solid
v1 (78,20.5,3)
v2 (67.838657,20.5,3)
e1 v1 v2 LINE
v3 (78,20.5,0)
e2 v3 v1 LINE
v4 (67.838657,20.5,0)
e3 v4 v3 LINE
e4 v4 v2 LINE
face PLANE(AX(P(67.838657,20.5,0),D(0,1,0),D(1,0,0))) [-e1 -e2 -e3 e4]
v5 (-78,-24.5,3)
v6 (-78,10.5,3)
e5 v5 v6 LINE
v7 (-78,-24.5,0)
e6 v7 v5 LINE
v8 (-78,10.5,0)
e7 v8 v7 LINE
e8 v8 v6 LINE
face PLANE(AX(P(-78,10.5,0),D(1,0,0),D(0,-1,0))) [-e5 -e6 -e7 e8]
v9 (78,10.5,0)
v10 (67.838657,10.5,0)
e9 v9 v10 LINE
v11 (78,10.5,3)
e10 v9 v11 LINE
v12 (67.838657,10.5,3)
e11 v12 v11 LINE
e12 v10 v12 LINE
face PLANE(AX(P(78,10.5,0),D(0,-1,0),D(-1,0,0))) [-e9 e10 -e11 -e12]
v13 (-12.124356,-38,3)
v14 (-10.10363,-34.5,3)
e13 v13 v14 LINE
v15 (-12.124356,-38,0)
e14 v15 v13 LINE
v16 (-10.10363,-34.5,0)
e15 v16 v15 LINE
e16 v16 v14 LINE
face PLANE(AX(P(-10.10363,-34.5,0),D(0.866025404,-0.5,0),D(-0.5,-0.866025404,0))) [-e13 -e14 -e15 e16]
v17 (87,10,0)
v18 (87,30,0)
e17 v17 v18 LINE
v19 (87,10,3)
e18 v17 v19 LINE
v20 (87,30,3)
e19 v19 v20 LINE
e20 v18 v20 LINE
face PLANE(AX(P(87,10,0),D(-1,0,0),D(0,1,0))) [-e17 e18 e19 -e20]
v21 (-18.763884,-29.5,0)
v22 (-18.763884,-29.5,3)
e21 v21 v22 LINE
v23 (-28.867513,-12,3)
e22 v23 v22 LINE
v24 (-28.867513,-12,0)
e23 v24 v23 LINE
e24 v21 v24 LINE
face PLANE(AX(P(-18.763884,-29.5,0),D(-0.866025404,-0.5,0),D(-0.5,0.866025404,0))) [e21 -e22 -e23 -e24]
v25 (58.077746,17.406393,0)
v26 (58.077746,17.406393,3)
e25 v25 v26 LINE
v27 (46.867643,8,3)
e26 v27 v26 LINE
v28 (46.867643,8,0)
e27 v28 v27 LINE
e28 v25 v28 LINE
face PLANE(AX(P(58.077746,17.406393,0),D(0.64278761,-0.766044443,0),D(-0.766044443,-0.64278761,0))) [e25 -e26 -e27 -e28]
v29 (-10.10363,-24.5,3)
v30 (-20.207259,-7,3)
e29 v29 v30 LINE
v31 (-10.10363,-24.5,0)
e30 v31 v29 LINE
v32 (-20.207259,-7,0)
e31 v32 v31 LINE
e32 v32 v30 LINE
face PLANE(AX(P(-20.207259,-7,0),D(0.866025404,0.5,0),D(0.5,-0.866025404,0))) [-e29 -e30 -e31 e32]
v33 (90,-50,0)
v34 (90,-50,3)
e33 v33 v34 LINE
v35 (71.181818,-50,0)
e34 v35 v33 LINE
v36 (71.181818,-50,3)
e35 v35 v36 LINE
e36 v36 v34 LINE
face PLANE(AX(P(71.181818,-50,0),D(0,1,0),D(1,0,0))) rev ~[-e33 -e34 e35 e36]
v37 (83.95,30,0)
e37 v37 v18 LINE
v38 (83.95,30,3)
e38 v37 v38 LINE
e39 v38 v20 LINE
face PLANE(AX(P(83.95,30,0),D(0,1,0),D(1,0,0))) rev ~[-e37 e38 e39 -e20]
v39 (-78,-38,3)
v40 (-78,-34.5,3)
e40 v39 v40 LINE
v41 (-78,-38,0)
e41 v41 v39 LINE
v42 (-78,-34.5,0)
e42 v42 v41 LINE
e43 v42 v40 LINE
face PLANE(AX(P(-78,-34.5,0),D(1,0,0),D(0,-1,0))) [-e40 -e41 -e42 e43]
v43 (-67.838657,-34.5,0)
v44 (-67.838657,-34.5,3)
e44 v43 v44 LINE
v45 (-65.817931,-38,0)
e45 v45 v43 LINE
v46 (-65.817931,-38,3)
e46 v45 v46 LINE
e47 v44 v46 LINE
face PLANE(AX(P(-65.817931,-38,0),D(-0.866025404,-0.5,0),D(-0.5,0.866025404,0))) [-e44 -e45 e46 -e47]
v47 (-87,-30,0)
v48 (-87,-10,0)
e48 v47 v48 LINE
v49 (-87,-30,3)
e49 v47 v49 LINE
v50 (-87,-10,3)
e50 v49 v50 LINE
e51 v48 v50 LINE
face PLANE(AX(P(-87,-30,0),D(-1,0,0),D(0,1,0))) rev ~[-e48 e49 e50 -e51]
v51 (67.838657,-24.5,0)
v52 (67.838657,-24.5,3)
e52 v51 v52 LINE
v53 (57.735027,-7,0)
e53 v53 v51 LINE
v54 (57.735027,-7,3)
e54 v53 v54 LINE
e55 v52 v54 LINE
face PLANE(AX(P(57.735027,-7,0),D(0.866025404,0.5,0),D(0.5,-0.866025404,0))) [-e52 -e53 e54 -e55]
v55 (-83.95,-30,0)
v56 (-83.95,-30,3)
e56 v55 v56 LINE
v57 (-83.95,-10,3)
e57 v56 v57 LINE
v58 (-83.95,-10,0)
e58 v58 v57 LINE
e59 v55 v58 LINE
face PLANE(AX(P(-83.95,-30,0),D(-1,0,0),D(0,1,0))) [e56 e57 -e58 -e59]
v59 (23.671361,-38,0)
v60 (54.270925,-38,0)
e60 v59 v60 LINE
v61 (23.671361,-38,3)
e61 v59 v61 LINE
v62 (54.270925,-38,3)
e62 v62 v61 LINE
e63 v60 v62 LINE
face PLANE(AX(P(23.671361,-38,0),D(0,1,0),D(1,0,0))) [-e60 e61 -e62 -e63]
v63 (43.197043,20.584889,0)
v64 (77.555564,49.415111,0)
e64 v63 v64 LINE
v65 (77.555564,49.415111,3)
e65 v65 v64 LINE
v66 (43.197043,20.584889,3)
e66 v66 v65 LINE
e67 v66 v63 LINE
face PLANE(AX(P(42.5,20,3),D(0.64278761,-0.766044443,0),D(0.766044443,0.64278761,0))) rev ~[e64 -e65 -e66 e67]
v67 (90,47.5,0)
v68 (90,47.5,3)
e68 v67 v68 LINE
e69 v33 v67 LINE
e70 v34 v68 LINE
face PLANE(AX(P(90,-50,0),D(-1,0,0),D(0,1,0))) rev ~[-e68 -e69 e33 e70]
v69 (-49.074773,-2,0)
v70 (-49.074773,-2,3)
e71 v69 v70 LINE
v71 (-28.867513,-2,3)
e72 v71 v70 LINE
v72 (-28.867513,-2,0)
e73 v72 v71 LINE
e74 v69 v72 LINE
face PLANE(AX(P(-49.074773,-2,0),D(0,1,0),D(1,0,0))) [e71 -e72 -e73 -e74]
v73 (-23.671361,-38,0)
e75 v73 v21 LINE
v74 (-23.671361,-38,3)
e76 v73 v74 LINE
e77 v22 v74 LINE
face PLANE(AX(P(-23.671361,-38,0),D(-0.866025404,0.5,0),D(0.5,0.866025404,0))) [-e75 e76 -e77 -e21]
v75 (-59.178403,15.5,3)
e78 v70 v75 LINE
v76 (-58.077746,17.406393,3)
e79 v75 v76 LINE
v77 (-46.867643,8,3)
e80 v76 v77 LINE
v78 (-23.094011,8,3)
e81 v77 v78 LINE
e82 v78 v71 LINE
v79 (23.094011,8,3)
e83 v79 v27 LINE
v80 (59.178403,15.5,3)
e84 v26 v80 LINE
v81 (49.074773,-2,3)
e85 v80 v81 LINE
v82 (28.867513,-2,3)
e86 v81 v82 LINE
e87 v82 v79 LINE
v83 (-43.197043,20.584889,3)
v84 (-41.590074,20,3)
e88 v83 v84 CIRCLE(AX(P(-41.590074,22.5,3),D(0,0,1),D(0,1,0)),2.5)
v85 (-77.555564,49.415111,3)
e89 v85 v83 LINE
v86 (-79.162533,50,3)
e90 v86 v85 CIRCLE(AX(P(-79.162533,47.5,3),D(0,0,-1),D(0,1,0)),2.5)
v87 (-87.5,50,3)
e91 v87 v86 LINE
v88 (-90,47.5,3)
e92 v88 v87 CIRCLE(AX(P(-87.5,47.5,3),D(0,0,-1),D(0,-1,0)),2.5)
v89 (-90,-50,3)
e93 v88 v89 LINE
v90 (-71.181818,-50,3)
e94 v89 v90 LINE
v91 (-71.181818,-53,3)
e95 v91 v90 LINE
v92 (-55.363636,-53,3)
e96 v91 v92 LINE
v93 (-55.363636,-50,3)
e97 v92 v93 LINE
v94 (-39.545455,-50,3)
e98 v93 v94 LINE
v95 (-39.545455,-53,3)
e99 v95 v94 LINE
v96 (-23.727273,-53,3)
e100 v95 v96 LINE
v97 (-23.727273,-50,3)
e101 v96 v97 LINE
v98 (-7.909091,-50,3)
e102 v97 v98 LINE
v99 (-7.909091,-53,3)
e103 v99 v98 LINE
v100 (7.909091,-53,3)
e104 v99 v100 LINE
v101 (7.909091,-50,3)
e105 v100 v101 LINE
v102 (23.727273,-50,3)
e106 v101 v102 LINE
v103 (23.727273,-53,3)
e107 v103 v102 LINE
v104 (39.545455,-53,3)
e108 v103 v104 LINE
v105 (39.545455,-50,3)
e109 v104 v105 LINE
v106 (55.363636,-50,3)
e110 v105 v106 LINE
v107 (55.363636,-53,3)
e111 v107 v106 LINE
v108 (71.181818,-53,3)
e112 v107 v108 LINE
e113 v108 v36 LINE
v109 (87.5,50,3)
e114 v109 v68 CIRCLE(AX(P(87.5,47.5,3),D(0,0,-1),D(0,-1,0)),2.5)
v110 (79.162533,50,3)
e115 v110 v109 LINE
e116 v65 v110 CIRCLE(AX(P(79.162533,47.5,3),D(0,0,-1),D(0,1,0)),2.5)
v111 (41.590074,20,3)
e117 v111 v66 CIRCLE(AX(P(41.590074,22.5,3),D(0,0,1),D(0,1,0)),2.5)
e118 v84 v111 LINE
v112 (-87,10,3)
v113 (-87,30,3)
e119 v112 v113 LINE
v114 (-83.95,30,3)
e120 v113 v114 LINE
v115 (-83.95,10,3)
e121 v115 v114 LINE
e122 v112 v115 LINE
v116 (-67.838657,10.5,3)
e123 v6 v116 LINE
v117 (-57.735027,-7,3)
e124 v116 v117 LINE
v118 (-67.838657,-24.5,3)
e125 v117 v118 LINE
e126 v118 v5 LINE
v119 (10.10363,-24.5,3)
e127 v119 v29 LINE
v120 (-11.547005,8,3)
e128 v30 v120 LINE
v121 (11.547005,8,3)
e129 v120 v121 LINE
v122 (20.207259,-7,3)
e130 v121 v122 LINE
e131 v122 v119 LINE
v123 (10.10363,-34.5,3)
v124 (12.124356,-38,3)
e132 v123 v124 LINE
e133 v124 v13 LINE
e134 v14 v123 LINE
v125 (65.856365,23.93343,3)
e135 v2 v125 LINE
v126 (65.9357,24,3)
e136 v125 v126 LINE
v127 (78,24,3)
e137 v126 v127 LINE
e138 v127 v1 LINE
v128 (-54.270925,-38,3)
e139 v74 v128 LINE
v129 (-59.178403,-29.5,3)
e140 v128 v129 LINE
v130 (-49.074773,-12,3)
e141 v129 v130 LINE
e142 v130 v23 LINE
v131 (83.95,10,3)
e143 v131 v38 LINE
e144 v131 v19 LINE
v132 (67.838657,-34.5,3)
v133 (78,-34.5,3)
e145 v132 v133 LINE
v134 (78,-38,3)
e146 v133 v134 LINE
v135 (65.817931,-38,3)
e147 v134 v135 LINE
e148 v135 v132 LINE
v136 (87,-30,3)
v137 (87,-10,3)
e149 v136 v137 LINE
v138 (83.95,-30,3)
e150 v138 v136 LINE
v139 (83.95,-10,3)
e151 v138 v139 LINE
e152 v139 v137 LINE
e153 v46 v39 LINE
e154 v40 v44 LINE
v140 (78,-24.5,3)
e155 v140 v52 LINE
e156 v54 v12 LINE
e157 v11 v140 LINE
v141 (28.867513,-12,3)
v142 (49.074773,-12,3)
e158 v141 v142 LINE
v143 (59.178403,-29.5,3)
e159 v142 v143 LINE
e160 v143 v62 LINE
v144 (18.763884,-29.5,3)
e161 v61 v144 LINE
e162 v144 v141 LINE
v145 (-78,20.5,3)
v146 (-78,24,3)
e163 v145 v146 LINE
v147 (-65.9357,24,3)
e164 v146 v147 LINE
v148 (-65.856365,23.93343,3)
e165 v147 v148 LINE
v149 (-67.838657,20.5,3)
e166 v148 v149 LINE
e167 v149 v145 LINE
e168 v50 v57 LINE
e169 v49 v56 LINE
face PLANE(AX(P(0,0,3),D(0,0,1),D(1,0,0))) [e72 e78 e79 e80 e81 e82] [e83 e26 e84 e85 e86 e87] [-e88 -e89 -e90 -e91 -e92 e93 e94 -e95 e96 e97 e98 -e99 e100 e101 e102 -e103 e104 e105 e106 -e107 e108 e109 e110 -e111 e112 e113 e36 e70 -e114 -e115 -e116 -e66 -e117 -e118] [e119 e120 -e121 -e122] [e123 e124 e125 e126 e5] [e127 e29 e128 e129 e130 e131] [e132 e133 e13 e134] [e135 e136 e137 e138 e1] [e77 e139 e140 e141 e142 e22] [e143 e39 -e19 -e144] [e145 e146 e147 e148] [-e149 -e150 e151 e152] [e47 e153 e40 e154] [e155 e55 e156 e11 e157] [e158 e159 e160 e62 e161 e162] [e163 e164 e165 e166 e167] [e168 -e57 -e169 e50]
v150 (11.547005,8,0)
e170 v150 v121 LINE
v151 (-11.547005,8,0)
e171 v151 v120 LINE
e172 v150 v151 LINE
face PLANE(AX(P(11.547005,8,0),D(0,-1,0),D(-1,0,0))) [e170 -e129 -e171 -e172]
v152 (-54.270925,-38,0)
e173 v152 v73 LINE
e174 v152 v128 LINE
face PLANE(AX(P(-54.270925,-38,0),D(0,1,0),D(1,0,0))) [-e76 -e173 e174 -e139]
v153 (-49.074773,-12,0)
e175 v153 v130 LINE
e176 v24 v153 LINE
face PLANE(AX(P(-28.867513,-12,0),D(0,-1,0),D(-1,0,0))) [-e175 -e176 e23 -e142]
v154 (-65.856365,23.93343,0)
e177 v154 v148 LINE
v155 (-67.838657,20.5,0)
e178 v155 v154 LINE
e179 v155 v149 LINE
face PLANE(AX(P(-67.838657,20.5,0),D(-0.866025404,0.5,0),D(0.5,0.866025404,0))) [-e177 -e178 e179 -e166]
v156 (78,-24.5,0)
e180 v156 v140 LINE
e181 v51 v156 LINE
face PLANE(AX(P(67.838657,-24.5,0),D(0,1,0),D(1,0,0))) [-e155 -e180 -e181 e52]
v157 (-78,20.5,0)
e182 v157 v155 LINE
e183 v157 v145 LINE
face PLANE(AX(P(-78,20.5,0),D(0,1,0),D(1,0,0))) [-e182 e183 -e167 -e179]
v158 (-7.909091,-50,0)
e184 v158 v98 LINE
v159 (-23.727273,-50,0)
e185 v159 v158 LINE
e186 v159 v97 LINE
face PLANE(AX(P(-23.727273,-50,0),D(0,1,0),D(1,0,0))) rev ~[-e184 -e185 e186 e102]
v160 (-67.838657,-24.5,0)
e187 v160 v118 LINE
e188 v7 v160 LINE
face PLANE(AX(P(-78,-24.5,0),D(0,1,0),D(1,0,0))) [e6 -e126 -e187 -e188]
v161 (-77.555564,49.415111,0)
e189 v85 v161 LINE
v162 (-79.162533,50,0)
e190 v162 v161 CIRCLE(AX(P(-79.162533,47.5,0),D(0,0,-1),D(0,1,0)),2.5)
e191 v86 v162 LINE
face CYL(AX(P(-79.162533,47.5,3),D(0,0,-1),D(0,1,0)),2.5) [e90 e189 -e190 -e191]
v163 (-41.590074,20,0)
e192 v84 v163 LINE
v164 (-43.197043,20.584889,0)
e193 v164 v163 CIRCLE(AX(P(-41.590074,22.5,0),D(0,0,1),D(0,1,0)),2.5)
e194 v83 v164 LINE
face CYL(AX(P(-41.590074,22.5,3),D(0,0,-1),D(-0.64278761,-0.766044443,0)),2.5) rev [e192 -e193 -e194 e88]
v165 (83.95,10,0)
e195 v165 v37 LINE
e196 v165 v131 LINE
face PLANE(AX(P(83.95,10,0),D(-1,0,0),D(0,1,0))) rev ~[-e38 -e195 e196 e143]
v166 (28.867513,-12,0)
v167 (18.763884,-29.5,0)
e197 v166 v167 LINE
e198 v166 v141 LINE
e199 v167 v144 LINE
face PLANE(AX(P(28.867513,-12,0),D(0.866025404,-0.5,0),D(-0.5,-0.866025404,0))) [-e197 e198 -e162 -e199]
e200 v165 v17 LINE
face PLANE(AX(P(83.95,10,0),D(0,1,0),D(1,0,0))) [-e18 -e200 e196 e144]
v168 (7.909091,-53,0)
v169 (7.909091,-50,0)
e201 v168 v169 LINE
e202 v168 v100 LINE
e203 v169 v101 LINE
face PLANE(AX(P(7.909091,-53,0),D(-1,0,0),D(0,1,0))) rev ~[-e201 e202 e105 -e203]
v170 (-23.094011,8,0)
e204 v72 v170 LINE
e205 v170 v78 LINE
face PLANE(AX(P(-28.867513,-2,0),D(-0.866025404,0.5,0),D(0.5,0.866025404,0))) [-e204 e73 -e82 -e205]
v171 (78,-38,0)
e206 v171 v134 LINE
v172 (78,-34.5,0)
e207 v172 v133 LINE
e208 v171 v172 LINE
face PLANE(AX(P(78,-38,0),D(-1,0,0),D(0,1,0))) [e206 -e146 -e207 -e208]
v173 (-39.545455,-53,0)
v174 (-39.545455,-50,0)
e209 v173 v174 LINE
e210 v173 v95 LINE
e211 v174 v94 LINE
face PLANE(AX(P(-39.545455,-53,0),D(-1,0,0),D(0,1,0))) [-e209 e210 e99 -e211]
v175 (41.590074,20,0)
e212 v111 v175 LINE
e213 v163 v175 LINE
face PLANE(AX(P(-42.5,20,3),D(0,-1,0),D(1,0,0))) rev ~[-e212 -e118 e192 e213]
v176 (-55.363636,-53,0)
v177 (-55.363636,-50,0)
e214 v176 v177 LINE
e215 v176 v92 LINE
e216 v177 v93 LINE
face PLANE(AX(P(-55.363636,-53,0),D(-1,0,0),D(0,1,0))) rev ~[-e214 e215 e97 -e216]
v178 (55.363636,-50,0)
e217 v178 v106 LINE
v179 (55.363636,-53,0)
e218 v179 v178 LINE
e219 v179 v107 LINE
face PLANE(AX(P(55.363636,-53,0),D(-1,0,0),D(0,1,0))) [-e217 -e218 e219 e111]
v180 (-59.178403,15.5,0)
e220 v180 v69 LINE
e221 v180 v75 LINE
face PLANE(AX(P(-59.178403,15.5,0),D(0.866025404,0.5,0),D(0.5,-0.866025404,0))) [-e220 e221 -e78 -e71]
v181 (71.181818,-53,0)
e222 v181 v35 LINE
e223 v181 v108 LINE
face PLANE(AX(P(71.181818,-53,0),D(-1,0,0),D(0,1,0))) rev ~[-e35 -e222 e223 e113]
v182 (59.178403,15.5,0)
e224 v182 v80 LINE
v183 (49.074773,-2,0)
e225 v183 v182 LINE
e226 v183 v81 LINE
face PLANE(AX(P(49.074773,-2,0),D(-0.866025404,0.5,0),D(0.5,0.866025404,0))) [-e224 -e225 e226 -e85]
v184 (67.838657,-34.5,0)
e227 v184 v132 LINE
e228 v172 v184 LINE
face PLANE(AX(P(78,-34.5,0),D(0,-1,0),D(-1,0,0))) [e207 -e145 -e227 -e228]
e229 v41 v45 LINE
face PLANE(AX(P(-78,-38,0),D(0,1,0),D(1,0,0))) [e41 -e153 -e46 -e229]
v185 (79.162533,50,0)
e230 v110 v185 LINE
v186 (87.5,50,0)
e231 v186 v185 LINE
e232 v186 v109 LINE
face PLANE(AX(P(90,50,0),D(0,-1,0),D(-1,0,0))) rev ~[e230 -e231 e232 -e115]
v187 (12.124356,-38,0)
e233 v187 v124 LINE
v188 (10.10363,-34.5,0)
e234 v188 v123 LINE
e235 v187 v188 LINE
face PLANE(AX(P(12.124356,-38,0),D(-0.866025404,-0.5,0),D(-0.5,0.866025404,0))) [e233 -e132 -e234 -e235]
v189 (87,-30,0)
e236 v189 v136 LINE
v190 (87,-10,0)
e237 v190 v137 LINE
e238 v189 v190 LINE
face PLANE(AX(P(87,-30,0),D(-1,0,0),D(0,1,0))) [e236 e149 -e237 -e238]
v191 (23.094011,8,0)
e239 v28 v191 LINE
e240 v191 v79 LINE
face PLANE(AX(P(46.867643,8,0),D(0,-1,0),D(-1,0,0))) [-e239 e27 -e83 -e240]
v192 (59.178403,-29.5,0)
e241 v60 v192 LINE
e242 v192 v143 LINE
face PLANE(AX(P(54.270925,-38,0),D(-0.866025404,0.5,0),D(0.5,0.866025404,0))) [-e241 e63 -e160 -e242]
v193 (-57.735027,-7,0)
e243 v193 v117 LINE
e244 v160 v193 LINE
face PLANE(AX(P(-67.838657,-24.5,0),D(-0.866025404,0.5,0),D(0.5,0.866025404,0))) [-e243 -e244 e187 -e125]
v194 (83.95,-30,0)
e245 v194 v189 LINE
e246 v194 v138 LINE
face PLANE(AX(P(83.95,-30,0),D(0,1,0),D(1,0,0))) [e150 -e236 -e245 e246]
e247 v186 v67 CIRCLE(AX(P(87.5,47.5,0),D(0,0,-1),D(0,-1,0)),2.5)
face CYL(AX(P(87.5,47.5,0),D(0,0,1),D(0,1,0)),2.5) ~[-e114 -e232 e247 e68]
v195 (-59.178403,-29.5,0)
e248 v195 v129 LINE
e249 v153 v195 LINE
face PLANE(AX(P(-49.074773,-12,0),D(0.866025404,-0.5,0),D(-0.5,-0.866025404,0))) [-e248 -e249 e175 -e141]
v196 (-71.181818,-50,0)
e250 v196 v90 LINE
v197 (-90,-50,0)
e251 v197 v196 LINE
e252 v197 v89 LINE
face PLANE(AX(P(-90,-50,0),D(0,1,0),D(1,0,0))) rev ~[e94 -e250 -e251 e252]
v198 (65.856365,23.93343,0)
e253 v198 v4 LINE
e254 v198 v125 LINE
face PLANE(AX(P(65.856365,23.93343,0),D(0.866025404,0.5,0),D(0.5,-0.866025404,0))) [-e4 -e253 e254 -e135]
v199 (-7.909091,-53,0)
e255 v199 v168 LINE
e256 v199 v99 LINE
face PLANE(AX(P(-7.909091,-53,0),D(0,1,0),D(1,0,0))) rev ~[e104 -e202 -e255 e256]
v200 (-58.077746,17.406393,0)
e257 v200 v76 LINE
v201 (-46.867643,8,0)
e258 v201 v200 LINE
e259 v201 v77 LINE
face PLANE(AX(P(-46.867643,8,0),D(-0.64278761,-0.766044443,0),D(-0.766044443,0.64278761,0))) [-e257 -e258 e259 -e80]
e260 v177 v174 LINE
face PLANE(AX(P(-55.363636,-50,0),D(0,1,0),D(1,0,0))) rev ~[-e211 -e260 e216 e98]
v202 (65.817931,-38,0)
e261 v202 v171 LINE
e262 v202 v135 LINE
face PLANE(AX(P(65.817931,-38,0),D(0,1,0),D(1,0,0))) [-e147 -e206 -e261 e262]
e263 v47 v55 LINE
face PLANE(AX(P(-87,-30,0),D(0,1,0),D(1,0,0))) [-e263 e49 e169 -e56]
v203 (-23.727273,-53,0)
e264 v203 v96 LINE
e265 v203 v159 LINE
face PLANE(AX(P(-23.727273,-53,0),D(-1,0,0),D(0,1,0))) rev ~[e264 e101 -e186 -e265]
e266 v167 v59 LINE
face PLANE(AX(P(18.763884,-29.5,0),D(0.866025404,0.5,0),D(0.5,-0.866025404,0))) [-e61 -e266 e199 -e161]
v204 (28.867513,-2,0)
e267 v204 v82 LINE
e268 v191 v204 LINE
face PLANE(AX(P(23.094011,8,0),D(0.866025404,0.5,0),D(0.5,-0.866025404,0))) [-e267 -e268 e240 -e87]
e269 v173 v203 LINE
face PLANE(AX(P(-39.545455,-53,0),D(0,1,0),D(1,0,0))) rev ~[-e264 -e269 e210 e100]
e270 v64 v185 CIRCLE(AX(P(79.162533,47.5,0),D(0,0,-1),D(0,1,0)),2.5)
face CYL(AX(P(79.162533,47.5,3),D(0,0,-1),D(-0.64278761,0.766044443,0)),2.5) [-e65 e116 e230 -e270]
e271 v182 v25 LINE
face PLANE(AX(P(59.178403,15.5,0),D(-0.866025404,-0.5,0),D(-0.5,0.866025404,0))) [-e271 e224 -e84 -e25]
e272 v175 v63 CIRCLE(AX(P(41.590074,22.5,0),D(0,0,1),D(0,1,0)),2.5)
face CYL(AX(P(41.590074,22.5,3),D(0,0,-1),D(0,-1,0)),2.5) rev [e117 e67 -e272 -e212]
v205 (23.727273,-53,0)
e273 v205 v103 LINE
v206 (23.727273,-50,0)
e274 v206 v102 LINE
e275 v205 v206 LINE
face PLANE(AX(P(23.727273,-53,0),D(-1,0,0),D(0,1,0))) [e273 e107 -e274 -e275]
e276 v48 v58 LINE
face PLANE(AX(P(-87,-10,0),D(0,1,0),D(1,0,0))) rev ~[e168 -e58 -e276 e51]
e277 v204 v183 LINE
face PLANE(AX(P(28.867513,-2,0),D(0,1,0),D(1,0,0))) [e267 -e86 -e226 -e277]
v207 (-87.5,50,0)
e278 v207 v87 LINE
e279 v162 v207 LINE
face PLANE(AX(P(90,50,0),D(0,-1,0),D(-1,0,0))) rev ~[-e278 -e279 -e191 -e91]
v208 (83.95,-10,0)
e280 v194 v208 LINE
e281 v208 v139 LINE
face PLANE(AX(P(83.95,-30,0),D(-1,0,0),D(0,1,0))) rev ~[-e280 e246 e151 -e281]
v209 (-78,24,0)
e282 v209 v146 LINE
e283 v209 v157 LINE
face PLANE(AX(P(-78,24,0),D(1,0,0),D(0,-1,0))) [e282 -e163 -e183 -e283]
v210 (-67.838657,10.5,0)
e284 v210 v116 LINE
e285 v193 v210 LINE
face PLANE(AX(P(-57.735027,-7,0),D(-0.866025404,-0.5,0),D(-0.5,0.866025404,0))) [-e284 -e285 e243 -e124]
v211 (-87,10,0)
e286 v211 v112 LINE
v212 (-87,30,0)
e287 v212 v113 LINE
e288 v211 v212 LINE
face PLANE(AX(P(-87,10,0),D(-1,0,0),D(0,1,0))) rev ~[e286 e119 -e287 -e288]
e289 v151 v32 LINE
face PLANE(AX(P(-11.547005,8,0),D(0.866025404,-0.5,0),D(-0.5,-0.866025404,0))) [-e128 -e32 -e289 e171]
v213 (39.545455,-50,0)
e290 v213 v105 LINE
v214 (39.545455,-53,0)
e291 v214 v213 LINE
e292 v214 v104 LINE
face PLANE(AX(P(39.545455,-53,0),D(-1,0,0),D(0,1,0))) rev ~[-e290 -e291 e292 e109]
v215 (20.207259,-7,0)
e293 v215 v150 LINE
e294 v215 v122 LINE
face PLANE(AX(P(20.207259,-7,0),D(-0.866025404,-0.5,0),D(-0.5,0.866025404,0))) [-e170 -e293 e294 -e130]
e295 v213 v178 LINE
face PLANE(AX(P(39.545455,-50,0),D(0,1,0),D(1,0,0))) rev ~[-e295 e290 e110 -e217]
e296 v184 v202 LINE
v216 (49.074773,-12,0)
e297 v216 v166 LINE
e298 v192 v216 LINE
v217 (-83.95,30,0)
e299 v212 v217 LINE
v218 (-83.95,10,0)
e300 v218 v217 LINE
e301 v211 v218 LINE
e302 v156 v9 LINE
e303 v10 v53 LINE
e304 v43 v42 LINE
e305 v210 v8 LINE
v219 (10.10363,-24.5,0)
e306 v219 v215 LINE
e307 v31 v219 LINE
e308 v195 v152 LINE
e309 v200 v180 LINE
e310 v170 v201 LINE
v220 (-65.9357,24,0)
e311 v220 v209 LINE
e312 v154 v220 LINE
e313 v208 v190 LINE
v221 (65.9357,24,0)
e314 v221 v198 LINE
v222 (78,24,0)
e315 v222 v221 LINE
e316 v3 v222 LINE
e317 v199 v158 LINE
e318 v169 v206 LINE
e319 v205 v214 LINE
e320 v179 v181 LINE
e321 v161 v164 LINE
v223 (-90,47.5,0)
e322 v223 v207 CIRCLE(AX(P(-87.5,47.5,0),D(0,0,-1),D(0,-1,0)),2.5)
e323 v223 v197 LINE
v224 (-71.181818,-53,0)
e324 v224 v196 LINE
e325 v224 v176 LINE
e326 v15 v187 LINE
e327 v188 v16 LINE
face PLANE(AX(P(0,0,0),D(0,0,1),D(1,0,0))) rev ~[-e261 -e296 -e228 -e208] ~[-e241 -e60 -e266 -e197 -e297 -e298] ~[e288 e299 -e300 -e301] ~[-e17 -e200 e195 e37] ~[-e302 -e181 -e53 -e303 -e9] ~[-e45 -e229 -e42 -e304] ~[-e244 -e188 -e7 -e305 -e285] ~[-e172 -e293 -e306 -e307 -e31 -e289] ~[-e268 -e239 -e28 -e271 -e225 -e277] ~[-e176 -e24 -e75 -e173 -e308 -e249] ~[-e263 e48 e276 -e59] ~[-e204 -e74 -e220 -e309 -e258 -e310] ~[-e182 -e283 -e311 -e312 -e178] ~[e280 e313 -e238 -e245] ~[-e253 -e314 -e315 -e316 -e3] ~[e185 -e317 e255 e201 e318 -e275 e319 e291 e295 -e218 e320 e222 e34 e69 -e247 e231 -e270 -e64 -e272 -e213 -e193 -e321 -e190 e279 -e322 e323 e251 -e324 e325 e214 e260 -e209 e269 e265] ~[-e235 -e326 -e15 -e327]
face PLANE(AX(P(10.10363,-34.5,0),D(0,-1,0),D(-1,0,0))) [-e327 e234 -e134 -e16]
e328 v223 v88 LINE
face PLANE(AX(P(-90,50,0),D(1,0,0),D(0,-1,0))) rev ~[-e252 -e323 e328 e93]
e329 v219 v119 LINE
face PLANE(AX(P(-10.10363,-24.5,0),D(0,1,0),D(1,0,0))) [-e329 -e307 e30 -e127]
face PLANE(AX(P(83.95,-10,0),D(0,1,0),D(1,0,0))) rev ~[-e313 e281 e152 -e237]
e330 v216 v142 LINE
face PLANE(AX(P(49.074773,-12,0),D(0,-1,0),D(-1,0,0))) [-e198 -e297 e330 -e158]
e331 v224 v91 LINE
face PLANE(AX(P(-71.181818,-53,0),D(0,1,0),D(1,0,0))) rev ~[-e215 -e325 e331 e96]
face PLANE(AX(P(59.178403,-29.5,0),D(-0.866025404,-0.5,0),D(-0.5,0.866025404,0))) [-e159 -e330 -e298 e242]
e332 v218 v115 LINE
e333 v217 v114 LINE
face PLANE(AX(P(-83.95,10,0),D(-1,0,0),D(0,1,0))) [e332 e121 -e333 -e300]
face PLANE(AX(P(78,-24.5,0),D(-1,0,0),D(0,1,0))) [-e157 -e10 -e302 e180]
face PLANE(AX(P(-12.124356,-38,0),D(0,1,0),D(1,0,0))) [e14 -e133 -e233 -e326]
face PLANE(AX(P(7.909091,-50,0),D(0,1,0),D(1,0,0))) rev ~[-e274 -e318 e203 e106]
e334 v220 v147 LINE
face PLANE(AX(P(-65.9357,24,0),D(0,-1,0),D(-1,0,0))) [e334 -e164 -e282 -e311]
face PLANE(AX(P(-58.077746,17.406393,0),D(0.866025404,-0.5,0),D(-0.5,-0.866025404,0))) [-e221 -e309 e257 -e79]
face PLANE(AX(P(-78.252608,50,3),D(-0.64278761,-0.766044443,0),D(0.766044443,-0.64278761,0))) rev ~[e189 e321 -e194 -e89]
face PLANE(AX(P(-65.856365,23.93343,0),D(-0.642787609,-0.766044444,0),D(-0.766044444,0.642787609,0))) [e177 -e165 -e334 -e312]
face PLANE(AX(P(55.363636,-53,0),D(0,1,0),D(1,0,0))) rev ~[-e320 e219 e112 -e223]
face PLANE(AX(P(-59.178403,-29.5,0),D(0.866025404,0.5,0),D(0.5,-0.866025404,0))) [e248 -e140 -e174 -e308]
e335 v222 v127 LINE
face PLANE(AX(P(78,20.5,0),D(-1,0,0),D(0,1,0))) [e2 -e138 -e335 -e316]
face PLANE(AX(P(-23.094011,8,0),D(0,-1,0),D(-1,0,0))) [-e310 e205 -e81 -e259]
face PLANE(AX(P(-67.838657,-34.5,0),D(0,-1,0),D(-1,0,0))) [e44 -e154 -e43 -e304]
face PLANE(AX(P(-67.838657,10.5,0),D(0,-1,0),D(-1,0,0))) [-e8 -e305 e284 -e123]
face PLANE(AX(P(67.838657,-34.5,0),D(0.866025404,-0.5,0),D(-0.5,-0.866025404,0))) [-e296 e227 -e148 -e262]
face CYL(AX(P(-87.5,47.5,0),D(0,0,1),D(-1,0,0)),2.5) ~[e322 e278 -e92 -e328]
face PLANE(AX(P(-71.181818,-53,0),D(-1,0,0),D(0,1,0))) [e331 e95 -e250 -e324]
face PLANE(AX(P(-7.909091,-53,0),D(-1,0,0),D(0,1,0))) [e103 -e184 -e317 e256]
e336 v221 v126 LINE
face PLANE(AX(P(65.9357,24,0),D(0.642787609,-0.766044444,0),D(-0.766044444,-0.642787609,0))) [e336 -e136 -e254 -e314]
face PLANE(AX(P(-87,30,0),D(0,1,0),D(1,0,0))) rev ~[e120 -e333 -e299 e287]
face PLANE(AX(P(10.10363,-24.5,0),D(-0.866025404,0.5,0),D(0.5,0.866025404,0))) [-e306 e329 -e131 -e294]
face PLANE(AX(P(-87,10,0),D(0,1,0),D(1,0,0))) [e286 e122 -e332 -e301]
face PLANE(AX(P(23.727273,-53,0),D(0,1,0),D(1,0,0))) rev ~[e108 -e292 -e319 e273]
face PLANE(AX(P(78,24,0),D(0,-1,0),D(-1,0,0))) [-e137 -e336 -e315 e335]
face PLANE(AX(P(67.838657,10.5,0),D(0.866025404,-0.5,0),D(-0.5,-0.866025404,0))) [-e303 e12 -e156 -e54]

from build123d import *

# Parameters (mm, degrees)
SKETCH1_W               = 3.05
SKETCH1_H               = 20
SKETCH1_W_2             = 15.818181818
SKETCH1_H_2             = 3
BOSS_EXTRUDE1_DEPTH     = 3
CUT_EXTRUDE9_DEPTH      = 1
CUT_EXTRUDE9_DEPTH_BACK = 4
FILLET3_R               = 2.5
CUT_EXTRUDE8_DEPTH      = 4
CUT_EXTRUDE8_DEPTH_BACK = 1


with BuildPart() as part:
    # Sketch1 → Boss-Extrude1 (new body)
    with BuildSketch(Plane.XY):
        Polygon((-90, 50), (-90, -50), (-71.181818182, -50), (-55.363636364, -50), (-39.545454545, -50), (-23.727272727, -50), (-7.909090909, -50), (7.909090909, -50), (23.727272727, -50), (39.545454545, -50), (55.363636364, -50), (71.181818182, -50), (90, -50), (90, 50), align=None)
        with Locations((-85.475, -20)):
            Rectangle(SKETCH1_W, SKETCH1_H, mode=Mode.SUBTRACT)
        with Locations((85.475, -20)):
            Rectangle(SKETCH1_W, SKETCH1_H, mode=Mode.SUBTRACT)
        with Locations((-85.475, 20)):
            Rectangle(SKETCH1_W, SKETCH1_H, mode=Mode.SUBTRACT)
        with Locations((85.475, 20)):
            Rectangle(SKETCH1_W, SKETCH1_H, mode=Mode.SUBTRACT)
        with Locations((-63.272727273, -51.5)):
            Rectangle(SKETCH1_W_2, SKETCH1_H_2)
        with Locations((-31.636363636, -51.5)):
            Rectangle(SKETCH1_W_2, SKETCH1_H_2)
        with Locations((0, -51.5)):
            Rectangle(SKETCH1_W_2, SKETCH1_H_2)
        with Locations((31.636363636, -51.5)):
            Rectangle(SKETCH1_W_2, SKETCH1_H_2)
        with Locations((63.272727273, -51.5)):
            Rectangle(SKETCH1_W_2, SKETCH1_H_2)
    extrude(amount=BOSS_EXTRUDE1_DEPTH)

    # Sketch7 → Cut-Extrude9 (cut, two sides)
    with BuildSketch(Plane.XY.offset(3)) as cut_extrude9_sk:
        Polygon((-78.252607778, 50), (-42.5, 20), (42.5, 20), (78.252607778, 50), align=None)
    extrude(amount=CUT_EXTRUDE9_DEPTH, mode=Mode.SUBTRACT)
    extrude(cut_extrude9_sk.sketch, amount=-CUT_EXTRUDE9_DEPTH_BACK, mode=Mode.SUBTRACT)

    # Fillet3
    fillet3_edges = [part.edges().sort_by_distance(p)[0] for p in [
        (-78.252607778, 50, 1.5),
        (78.252607778, 50, 1.5),
        (42.5, 20, 1.5),
        (-42.5, 20, 1.5),
        (-90, 50, 1.5),
        (90, 50, 1.5),
    ]]
    fillet(fillet3_edges, radius=FILLET3_R)

    # Sketch6 → Cut-Extrude8 (cut, two sides)
    with BuildSketch(Plane.XY) as cut_extrude8_sk:
        Polygon((-67.83865663, 10.5), (-78, 10.5), (-78, -24.5), (-67.83865663, -24.5), (-57.735026919, -7), align=None)
        Polygon((-59.178402592, -29.5), (-54.270925304, -38), (-23.671361037, -38), (-18.763883749, -29.5), (-28.867513459, -12), (-49.074772881, -12), align=None)
        Polygon((-67.83865663, -34.5), (-78, -34.5), (-78, -38), (-65.817930688, -38), align=None)
        Polygon((-10.103629711, -34.5), (-12.124355653, -38), (12.124355653, -38), (10.103629711, -34.5), align=None)
        Polygon((18.763883749, -29.5), (23.671361037, -38), (54.270925304, -38), (59.178402592, -29.5), (49.074772881, -12), (28.867513459, -12), align=None)
        Polygon((78, -38), (78, -34.5), (67.83865663, -34.5), (65.817930688, -38), align=None)
        Polygon((78, -24.5), (78, 10.5), (67.83865663, 10.5), (57.735026919, -7), (67.83865663, -24.5), align=None)
        Polygon((11.547005384, 8), (-11.547005384, 8), (-20.207259422, -7), (-10.103629711, -24.5), (10.103629711, -24.5), (20.207259422, -7), align=None)
        Polygon((-46.867642811, 8), (-58.077745879, 17.406393349), (-59.178402592, 15.5), (-49.074772881, -2), (-28.867513459, -2), (-23.094010768, 8), align=None)
        Polygon((46.867642811, 8), (23.094010768, 8), (28.867513459, -2), (49.074772881, -2), (59.178402592, 15.5), (58.077745879, 17.406393349), align=None)
        Polygon((-67.83865663, 20.5), (-65.856365013, 23.933429796), (-65.935700293, 24), (-78, 24), (-78, 20.5), align=None)
        Polygon((65.935700293, 24), (65.856365013, 23.933429796), (67.83865663, 20.5), (78, 20.5), (78, 24), align=None)
    extrude(amount=CUT_EXTRUDE8_DEPTH, mode=Mode.SUBTRACT)
    extrude(cut_extrude8_sk.sketch, amount=-CUT_EXTRUDE8_DEPTH_BACK, mode=Mode.SUBTRACT)


solid = part.part
